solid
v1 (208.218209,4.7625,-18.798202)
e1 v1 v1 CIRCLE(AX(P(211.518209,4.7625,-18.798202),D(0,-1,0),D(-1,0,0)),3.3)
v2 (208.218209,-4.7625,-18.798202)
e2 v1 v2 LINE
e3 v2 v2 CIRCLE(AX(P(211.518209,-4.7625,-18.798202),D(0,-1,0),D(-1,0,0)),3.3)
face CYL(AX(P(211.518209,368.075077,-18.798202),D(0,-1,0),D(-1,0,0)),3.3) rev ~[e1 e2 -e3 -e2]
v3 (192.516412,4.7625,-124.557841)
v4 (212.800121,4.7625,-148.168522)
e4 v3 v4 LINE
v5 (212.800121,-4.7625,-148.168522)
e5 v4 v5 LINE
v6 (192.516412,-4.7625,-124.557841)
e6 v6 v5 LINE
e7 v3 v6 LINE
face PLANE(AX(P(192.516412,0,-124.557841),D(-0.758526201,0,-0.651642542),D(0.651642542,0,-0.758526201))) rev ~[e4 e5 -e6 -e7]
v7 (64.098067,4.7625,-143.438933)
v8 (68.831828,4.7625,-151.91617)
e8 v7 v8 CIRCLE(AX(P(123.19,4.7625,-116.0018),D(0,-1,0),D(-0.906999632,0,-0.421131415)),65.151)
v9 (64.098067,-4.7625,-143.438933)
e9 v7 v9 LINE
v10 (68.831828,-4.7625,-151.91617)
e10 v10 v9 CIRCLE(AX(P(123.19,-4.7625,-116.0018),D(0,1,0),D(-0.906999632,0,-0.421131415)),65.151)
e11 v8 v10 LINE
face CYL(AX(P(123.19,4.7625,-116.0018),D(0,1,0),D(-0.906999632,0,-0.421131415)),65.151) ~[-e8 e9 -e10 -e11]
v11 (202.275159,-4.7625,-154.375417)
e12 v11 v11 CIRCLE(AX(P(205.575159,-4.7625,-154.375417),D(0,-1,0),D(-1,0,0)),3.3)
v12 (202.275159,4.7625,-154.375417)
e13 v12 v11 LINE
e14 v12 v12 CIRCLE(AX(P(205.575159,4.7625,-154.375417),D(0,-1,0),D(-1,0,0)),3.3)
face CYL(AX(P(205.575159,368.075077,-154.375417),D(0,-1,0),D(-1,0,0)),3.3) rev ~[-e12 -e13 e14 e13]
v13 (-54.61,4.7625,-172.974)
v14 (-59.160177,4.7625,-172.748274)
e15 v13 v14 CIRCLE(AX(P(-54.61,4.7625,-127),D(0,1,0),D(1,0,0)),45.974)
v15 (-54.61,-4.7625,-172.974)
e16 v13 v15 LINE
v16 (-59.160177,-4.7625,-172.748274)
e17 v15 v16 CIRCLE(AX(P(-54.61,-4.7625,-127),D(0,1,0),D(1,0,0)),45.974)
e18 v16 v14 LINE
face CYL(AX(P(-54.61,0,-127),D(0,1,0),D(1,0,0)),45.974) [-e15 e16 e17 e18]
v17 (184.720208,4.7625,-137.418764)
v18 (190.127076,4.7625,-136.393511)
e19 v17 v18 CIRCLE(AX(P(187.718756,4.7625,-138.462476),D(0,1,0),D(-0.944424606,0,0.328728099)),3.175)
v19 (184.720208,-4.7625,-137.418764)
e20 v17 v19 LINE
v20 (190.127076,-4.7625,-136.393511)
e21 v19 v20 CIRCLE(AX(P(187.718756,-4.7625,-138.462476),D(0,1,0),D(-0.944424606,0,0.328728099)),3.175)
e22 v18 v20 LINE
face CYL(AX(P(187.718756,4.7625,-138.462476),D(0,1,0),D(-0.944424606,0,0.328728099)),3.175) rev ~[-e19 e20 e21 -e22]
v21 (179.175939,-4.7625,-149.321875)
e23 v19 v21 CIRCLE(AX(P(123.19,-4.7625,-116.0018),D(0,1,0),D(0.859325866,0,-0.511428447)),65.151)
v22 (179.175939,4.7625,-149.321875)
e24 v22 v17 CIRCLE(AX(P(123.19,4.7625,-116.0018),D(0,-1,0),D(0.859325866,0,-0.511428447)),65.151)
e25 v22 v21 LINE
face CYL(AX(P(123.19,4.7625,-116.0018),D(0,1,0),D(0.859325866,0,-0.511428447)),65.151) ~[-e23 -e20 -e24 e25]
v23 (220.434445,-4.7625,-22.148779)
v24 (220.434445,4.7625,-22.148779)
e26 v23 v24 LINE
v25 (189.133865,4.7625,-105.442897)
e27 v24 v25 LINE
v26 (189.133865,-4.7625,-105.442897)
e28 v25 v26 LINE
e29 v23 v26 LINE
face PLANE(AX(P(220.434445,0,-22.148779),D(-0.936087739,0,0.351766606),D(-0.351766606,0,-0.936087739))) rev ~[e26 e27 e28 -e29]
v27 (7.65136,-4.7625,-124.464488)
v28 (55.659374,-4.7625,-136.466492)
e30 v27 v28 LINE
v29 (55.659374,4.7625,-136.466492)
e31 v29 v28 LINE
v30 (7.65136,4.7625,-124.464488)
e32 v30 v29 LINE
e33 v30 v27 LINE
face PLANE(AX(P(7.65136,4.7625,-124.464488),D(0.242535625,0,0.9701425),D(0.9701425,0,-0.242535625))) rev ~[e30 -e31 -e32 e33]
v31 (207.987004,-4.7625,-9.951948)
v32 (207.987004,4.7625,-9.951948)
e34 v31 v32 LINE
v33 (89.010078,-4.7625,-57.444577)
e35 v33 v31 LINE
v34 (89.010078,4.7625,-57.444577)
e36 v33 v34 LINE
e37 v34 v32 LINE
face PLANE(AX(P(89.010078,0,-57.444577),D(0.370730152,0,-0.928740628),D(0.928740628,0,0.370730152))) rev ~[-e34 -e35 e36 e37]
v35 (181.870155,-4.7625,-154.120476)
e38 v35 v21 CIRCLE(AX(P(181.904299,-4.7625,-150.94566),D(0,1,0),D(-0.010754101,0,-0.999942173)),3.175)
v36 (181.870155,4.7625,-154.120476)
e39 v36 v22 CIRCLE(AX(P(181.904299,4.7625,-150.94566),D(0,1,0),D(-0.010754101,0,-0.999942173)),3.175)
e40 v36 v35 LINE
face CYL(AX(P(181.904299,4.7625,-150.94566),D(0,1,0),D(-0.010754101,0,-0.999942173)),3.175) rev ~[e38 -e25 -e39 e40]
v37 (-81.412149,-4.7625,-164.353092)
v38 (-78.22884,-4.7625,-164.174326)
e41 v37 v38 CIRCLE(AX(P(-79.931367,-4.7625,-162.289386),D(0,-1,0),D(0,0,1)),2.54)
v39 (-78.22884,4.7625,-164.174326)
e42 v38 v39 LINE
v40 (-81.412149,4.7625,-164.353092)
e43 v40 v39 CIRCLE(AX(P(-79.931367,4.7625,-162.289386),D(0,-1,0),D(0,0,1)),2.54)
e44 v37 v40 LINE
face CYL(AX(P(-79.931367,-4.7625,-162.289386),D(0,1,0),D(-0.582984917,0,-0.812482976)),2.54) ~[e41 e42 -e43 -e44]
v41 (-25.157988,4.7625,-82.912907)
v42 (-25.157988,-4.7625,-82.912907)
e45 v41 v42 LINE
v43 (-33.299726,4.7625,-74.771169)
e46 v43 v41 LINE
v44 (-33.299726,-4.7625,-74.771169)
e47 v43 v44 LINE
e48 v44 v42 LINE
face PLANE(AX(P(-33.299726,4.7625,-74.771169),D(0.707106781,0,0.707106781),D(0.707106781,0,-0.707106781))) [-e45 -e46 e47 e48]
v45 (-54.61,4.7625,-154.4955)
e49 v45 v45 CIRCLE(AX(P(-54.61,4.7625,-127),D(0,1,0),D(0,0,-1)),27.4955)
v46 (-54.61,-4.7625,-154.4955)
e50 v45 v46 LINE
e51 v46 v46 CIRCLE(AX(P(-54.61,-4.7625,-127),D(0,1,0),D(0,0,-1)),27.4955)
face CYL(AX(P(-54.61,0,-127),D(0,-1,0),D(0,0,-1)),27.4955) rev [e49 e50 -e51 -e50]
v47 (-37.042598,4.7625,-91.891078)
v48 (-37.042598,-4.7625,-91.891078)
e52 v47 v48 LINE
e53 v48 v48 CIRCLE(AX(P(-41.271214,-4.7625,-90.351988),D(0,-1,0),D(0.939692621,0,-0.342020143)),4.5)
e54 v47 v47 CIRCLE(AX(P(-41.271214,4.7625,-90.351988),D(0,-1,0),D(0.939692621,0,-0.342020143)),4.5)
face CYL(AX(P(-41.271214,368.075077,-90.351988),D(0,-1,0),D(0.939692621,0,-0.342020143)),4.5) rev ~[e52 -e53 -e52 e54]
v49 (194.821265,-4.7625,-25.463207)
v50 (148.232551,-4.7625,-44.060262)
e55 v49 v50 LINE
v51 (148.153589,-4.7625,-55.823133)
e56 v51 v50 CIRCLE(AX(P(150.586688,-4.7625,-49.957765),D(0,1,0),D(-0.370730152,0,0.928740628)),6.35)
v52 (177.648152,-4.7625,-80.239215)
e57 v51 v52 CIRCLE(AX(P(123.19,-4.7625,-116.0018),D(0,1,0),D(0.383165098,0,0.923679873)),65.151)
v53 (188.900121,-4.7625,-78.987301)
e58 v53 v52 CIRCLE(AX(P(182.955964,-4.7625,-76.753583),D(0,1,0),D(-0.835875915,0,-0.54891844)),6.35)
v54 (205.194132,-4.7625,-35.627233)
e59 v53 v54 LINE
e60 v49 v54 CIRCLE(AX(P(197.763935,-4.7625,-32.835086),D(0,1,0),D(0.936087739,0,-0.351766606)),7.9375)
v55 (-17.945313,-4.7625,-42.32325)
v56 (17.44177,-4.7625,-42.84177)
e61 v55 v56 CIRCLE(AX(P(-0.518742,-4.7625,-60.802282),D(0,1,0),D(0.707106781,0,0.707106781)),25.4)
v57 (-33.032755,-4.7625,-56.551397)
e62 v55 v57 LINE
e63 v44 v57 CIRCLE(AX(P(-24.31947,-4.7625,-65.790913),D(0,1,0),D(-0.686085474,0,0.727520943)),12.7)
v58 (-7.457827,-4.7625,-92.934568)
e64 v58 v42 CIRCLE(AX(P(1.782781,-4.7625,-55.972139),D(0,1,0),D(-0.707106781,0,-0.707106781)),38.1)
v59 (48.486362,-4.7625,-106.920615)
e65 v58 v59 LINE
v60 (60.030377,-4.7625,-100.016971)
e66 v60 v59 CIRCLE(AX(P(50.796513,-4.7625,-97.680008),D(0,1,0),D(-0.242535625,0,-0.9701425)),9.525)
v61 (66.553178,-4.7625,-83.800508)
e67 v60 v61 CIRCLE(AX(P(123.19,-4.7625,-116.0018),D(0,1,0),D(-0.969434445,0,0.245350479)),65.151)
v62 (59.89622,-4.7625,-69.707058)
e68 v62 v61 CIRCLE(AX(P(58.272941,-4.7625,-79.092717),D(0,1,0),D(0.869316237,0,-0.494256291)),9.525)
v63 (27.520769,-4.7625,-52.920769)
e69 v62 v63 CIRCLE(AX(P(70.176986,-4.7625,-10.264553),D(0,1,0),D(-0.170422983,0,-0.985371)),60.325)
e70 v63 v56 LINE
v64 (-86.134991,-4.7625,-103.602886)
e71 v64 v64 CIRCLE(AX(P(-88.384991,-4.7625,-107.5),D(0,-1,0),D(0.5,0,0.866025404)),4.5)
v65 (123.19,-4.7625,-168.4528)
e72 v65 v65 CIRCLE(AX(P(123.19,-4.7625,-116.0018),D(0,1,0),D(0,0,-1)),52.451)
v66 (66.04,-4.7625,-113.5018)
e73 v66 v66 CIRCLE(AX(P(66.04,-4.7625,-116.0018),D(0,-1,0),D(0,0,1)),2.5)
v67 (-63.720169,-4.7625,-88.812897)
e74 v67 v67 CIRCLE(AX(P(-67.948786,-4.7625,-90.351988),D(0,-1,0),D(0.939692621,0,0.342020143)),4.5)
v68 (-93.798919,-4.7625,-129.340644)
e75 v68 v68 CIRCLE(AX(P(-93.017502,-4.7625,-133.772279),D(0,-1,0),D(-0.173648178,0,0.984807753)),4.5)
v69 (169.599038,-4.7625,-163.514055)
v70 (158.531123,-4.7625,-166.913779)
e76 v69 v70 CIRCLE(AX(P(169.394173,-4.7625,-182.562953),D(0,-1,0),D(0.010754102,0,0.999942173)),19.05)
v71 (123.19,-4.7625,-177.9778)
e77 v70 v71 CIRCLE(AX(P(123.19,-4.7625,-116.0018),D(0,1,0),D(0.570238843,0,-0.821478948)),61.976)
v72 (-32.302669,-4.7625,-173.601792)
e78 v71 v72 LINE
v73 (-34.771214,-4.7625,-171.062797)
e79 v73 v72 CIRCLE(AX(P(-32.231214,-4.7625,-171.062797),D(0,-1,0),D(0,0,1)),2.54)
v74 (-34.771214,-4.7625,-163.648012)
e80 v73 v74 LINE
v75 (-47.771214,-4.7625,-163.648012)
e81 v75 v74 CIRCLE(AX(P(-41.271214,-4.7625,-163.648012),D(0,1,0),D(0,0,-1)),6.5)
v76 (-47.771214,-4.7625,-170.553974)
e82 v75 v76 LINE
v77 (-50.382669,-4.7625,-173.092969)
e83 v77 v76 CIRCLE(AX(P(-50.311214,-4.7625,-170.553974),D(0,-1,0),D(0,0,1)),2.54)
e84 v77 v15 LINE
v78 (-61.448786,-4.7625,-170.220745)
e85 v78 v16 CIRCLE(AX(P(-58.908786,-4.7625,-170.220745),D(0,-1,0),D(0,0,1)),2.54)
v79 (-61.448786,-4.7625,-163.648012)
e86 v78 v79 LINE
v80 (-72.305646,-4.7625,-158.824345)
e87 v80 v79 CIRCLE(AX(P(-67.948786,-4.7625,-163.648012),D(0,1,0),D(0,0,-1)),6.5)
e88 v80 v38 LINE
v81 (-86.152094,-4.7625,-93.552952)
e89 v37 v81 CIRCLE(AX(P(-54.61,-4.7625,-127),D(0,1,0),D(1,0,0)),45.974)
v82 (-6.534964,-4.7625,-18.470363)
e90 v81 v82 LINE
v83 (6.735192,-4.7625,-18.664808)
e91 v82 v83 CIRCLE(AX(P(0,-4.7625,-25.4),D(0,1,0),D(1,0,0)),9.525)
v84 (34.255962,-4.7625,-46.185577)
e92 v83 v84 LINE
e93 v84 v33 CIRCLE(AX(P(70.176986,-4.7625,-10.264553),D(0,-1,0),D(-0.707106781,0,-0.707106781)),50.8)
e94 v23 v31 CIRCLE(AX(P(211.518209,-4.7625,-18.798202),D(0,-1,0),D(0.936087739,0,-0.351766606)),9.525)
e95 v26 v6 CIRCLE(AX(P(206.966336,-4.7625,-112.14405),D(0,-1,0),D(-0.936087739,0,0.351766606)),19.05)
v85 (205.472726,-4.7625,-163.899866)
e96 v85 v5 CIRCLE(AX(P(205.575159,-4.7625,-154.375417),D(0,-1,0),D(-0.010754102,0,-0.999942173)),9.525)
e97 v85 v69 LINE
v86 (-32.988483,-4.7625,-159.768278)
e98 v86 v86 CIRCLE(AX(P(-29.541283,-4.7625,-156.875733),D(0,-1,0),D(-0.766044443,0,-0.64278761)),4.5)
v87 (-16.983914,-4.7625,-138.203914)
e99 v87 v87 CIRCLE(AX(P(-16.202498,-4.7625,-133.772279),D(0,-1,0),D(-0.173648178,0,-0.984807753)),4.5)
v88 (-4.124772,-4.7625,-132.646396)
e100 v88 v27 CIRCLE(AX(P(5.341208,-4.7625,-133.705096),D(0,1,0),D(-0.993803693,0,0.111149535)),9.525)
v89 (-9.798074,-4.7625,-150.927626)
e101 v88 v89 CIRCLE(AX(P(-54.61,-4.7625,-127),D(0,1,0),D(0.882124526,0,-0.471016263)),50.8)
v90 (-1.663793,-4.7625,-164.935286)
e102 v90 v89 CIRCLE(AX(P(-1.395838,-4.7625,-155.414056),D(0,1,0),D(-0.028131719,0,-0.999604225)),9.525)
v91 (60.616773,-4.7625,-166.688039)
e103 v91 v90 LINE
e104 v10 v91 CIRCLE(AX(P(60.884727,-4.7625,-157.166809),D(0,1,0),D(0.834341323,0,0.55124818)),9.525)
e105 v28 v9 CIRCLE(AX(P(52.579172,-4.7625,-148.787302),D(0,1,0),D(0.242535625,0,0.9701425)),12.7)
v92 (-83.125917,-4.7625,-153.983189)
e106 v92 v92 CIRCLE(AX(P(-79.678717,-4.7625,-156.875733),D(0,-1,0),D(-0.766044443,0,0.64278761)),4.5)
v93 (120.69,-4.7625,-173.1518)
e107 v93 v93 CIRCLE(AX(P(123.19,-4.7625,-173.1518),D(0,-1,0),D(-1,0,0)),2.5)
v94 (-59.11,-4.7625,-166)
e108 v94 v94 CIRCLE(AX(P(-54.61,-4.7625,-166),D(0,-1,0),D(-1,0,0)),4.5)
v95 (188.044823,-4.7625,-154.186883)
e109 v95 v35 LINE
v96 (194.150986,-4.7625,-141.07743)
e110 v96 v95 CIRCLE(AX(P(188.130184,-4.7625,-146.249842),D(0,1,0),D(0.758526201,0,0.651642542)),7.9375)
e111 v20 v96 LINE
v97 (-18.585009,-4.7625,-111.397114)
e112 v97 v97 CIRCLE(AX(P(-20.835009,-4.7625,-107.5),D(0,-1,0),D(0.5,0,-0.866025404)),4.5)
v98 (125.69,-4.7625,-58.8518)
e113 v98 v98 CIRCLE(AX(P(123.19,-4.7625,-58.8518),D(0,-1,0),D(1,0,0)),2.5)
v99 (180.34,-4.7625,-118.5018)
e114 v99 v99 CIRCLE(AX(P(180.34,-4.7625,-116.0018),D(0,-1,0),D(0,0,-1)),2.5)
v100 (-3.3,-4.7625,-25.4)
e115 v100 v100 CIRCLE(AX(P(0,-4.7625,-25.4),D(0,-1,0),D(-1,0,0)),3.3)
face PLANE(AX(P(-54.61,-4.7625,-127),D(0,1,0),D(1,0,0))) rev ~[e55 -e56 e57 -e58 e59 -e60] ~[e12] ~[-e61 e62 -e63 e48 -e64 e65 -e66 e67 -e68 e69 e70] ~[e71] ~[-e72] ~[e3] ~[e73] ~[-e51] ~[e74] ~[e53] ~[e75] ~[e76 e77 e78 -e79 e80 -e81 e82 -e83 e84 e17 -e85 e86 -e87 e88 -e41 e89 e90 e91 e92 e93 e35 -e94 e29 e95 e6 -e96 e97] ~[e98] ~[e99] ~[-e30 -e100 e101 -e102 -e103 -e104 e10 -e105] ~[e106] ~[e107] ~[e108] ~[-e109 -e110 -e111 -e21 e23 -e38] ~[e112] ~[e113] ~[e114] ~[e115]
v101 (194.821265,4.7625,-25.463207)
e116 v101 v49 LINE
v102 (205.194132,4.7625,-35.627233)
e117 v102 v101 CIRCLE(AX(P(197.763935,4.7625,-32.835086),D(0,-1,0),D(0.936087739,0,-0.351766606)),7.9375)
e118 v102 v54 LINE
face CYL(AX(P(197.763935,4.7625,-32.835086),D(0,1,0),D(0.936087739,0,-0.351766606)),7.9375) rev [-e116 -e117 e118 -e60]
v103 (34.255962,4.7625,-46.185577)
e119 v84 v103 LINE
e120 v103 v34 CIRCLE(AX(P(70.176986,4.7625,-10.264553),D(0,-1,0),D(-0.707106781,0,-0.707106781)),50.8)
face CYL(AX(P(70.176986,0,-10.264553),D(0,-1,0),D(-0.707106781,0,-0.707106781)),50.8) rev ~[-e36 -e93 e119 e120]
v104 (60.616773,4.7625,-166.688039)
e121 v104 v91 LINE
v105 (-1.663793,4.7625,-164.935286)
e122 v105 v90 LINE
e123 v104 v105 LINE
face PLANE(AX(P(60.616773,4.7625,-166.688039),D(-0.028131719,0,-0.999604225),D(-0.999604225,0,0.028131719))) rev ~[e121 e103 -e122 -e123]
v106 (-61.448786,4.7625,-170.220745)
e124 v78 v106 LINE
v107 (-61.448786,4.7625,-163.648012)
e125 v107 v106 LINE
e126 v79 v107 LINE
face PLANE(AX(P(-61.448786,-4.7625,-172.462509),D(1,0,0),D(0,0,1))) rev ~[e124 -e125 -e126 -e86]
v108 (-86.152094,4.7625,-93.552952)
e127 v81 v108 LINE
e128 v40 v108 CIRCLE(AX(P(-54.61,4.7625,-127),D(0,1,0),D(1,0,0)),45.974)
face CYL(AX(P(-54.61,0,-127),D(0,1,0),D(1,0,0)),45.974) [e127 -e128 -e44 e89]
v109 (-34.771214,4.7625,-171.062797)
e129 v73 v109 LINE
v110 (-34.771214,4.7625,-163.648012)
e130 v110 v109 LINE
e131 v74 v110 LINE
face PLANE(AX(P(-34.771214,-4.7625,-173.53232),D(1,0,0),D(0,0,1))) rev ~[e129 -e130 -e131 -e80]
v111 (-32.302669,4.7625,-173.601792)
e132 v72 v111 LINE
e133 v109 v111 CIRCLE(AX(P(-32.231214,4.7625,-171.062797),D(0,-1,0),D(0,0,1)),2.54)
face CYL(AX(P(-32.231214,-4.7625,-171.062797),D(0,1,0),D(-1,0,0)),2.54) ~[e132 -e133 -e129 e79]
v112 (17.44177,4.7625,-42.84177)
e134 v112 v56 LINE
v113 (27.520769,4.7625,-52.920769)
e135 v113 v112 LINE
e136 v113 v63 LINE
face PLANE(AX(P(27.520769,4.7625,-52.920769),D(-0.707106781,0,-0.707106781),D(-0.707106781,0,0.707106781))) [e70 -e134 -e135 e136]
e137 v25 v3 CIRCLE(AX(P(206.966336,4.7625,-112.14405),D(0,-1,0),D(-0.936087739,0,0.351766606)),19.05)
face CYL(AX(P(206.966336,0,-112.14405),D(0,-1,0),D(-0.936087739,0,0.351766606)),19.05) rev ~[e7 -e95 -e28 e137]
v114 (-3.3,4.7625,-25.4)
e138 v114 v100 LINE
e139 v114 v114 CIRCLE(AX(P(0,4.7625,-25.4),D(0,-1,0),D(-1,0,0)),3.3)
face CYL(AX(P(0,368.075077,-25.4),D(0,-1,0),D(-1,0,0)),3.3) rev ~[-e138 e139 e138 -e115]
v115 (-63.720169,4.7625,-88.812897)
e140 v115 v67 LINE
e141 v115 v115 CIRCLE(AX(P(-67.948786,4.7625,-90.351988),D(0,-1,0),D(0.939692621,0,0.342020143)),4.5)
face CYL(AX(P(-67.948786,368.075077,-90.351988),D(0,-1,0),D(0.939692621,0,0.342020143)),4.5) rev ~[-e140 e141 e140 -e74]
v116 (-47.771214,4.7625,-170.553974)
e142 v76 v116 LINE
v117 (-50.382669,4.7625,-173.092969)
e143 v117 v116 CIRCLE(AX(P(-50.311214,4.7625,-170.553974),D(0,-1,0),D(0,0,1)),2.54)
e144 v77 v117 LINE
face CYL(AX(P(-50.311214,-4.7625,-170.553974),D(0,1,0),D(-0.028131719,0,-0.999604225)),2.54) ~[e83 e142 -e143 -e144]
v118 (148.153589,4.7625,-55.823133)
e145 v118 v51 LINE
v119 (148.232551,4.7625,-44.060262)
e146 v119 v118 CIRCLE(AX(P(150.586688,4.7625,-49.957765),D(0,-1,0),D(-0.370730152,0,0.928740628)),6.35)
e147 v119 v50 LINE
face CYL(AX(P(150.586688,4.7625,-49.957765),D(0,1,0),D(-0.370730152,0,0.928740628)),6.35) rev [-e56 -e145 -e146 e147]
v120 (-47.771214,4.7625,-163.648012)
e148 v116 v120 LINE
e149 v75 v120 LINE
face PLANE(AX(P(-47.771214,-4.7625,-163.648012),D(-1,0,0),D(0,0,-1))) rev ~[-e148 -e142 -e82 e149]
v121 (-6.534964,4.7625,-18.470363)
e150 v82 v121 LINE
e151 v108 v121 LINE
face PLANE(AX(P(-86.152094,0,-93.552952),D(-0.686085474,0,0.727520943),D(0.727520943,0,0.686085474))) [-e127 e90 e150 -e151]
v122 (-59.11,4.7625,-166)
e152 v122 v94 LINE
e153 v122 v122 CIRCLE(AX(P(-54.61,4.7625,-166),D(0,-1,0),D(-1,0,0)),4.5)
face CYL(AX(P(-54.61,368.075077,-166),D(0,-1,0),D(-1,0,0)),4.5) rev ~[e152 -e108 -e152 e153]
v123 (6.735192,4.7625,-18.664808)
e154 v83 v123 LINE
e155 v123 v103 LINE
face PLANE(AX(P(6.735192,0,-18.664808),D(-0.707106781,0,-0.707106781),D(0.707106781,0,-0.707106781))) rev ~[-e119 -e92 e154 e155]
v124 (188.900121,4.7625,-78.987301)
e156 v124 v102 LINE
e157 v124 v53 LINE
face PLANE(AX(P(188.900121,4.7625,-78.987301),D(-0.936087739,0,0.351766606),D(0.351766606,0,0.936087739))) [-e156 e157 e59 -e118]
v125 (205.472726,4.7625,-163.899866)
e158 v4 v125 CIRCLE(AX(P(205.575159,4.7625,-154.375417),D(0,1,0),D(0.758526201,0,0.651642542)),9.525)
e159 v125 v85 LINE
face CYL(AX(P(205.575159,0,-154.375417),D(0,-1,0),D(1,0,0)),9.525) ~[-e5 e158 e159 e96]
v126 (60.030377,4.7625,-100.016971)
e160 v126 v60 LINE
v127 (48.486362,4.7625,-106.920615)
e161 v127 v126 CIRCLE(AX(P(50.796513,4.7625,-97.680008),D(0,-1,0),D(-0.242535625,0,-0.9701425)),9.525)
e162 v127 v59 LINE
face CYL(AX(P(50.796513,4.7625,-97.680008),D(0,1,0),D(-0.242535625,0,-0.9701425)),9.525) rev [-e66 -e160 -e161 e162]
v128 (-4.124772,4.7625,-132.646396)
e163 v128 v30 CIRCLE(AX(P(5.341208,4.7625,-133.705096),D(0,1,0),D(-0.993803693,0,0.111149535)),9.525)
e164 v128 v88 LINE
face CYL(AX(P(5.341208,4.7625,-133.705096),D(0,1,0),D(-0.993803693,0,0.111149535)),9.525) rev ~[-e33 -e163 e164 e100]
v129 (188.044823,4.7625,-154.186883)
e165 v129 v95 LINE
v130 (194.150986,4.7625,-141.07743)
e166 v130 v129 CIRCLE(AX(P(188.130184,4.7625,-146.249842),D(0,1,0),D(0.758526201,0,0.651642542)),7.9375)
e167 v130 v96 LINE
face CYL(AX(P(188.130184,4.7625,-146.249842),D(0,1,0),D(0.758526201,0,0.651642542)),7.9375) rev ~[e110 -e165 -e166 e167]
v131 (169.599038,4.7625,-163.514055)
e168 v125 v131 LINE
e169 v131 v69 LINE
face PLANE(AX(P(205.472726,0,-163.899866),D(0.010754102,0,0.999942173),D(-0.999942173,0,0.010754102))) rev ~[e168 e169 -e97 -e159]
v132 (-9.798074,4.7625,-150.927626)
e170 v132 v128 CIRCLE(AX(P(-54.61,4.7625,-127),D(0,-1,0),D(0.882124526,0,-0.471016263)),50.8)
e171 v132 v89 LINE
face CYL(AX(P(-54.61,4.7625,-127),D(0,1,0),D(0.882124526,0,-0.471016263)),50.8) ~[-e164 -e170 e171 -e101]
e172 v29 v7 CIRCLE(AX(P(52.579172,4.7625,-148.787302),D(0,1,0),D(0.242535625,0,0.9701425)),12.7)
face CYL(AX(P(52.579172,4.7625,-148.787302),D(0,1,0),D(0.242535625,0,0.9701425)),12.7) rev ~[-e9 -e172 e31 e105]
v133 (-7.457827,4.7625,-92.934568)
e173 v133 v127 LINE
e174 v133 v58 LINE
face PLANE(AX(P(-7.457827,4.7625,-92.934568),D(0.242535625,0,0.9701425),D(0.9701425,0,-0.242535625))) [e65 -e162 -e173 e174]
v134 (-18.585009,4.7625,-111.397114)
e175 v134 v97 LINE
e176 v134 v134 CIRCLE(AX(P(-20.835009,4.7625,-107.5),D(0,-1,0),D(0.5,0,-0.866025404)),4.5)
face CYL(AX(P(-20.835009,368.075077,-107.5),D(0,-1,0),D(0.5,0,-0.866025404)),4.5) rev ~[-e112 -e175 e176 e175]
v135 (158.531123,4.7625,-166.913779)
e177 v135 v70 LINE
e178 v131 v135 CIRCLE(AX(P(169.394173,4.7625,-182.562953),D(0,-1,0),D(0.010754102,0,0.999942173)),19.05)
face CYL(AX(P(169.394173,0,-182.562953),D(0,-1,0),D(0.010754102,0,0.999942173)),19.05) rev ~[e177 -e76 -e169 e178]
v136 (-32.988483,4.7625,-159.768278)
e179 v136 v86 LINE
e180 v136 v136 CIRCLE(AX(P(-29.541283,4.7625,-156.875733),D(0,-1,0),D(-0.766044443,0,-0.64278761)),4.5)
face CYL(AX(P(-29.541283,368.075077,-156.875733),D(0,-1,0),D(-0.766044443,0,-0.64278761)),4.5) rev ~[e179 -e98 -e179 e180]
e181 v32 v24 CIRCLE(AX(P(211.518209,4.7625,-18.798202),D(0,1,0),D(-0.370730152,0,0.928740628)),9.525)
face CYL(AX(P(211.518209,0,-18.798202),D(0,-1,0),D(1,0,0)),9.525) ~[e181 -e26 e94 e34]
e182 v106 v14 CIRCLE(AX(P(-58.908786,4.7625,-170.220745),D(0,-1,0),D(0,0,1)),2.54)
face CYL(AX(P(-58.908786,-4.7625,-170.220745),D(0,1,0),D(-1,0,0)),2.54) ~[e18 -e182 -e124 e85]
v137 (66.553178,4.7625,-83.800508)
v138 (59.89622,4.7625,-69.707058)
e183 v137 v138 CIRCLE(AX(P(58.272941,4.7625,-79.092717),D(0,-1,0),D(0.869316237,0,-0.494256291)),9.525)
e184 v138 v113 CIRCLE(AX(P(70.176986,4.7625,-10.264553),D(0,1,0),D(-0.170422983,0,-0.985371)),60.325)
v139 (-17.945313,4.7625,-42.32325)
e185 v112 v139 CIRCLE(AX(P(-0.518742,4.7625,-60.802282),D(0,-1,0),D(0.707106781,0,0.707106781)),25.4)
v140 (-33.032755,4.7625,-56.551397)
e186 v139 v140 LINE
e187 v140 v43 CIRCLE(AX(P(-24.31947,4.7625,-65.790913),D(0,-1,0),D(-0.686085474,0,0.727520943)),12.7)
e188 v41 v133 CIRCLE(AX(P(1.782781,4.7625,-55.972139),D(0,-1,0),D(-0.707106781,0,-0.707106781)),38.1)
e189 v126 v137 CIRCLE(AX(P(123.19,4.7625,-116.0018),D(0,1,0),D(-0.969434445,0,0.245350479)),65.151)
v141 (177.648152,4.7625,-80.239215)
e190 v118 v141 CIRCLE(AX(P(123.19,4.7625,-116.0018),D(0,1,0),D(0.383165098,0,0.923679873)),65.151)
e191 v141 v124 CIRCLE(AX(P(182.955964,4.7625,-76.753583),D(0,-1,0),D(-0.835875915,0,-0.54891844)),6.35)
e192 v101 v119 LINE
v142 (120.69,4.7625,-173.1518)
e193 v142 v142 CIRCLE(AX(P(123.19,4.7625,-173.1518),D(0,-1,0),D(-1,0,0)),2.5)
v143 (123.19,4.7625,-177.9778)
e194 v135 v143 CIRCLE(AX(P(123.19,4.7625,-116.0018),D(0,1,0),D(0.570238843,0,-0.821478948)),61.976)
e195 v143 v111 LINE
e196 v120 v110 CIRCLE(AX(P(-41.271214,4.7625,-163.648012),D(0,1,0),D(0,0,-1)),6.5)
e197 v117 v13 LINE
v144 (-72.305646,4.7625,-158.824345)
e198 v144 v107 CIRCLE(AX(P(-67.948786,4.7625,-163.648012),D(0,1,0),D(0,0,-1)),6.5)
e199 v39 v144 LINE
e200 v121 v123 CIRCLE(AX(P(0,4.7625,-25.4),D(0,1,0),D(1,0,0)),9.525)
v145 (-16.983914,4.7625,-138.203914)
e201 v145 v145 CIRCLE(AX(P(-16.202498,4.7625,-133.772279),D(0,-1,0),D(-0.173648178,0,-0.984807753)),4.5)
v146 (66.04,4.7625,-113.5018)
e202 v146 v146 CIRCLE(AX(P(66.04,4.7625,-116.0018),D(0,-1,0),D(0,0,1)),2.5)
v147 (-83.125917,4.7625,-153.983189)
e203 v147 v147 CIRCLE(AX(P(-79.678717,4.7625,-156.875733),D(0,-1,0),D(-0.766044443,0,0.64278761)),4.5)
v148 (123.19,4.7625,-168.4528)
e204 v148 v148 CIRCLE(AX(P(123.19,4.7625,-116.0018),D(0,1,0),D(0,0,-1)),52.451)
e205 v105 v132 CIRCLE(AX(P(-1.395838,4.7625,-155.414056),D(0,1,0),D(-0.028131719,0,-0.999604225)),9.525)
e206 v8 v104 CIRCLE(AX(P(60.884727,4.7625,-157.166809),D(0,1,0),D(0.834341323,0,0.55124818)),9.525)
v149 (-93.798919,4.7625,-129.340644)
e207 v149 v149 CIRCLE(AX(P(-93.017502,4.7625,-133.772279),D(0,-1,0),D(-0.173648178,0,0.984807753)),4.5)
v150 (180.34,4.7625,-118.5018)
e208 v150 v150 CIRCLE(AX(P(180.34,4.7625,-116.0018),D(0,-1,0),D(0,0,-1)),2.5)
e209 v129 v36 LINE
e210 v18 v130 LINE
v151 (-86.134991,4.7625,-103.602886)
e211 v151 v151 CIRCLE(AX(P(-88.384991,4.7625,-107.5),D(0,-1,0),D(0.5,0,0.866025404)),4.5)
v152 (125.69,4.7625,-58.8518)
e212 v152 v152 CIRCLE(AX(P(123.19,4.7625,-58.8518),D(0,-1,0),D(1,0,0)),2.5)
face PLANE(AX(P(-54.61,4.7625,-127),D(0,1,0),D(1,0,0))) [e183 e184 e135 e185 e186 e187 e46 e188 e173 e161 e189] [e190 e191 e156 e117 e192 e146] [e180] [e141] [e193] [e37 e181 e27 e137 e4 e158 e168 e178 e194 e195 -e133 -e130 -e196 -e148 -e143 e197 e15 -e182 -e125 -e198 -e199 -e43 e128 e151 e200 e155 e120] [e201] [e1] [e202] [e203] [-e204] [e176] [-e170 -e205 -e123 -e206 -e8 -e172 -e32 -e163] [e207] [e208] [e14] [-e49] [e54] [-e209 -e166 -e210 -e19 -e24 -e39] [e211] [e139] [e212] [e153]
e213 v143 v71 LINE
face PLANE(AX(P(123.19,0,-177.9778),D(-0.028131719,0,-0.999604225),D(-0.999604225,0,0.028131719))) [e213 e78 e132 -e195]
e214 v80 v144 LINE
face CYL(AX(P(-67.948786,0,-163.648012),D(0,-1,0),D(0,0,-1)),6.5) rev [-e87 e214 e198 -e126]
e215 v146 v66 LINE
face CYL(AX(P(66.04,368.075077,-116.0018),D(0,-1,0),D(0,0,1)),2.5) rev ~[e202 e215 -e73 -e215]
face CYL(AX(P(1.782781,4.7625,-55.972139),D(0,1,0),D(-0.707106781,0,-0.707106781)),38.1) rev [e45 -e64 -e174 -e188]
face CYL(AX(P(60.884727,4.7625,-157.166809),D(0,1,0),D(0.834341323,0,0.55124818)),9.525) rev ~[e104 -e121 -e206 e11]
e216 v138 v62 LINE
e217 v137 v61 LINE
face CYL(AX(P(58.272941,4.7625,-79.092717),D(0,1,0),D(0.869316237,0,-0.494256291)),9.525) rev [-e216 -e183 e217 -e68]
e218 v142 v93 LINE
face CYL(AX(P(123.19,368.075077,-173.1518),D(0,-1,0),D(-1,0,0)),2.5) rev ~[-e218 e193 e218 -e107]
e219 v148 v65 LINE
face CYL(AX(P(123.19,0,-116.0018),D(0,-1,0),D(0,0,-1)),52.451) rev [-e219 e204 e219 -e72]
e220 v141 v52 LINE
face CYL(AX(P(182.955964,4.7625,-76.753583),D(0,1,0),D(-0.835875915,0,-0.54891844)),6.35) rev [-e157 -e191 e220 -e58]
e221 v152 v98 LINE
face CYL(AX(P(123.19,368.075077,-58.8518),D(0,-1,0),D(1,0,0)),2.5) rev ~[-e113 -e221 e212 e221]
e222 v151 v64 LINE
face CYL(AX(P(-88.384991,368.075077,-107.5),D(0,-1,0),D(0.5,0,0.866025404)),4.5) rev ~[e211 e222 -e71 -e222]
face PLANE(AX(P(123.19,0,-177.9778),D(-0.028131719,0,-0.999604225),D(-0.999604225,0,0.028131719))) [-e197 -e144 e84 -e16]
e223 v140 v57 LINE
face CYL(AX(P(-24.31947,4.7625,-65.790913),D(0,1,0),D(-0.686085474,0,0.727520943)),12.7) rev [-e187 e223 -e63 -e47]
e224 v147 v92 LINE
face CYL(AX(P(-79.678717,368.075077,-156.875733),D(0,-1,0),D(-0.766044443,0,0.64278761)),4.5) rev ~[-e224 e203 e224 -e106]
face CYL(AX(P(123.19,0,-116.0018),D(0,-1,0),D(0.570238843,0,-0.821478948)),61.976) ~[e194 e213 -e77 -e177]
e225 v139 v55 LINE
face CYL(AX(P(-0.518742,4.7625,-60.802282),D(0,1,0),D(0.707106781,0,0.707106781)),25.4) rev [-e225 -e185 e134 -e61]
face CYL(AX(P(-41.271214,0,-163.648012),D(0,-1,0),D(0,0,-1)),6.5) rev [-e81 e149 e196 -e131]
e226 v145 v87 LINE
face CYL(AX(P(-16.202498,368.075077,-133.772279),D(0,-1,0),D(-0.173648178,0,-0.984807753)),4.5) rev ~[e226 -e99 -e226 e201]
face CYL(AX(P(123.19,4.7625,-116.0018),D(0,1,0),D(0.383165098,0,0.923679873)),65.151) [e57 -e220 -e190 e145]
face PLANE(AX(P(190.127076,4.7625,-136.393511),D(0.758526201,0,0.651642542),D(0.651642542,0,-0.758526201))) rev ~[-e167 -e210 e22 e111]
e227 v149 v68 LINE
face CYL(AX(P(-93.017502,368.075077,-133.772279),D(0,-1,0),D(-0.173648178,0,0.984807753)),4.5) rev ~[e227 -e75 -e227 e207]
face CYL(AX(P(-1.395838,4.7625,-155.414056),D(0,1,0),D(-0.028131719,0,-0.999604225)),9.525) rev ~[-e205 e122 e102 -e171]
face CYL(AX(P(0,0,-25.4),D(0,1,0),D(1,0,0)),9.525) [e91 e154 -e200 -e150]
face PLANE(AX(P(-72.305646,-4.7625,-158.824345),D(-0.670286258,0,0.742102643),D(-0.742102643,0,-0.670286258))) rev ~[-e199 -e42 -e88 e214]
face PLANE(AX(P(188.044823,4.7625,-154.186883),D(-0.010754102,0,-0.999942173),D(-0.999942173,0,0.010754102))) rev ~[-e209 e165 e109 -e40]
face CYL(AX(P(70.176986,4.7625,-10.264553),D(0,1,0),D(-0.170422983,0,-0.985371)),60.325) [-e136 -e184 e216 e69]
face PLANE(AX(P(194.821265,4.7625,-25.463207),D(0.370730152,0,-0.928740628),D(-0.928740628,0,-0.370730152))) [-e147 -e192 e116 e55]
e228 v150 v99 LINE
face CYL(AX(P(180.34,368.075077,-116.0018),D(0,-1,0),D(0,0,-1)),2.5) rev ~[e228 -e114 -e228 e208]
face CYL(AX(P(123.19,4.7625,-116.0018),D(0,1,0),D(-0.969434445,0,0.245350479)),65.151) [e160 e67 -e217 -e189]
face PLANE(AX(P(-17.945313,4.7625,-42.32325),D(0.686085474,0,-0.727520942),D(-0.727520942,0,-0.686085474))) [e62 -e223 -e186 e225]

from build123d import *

# Parameters (mm, degrees)
MASTER_SKETCH_R       = 52.451
MASTER_SKETCH_R_2     = 9.525
MASTER_SKETCH_R_3     = 45.974
MASTER_SKETCH_R_4     = 27.4955
MASTER_SKETCH_R_5     = 6.5
BOSS_EXTRUDE2_DEPTH   = 4.7625
F_5_0MM_DOWEL_HOLE1_D = 5
CIRPATTERN4_COUNT     = 4
M6_CLEARANCE_HOLE4_D  = 6.6
M8_CLEARANCE_HOLE1_D  = 9
CIRPATTERN3_COUNT     = 9
CUT_EXTRUDE2_DEPTH    = 284.948803699
CUT_EXTRUDE3_DEPTH    = 284.948803699
FILLET1_R             = 2.54


with BuildPart() as part:
    # Master Sketch → Boss-Extrude2 (new, symmetric)
    # profile 1 of 5: a face of its own
    with BuildSketch(Plane(origin=(0, 0, 0), x_dir=(1, 0, 0), z_dir=(0, 1, 0))):
        with BuildLine():
            ThreePointArc((-8.636, 127), (-36.396097826, 84.787887478), (-86.152093601, 93.552952189))
            Line((-86.152093601, 93.552952189), (-6.534964144, 18.470363023))
            ThreePointArc((-6.534964144, 18.470363023), (-3.773598517, 34.145603423), (9.525, 25.4))
            ThreePointArc((9.525, 25.4), (8.799952547, 21.754940307), (6.735192091, 18.664807909))
            Line((6.735192091, 18.664807909), (34.255961574, 46.185577392))
            ThreePointArc((34.255961574, 46.185577392), (59.945142207, 60.02346539), (89.010077776, 57.44457682))
            Line((89.010077776, 57.44457682), (207.987004211, 9.951947906))
            ThreePointArc((207.987004211, 9.951947906), (204.851852042, 25.601533276), (220.43444462, 22.148779315))
            Line((220.43444462, 22.148779315), (189.133864847, 105.44289655))
            ThreePointArc((189.133864847, 105.44289655), (188.207777178, 115.4635324), (192.51641215, 124.557840832))
            Line((192.51641215, 124.557840832), (212.800120602, 148.168522003))
            ThreePointArc((212.800120602, 148.168522003), (196.940842995, 150.353698677), (205.472725722, 163.899866417))
            Line((205.472725722, 163.899866417), (169.599038165, 163.514054819))
            ThreePointArc((169.599038165, 163.514054819), (163.800537316, 164.352688386), (158.531122559, 166.913779261))
            ThreePointArc((158.531122559, 166.913779261), (141.706259737, 175.147152322), (123.19, 177.9778))
            Line((123.19, 177.9778), (-54.61, 172.974))
            ThreePointArc((-54.61, 172.974), (-22.101472842, 159.508527158), (-8.636, 127))
        make_face()
        with Locations(Location((123.19, 116.0018, 0), (0, 0, 90))):
            Circle(MASTER_SKETCH_R, mode=Mode.SUBTRACT)
    # profile 2 of 5: a face of its own
    with BuildSketch(Plane(origin=(0, 0, 0), x_dir=(1, 0, 0), z_dir=(0, 1, 0))):
        with Locations((0, 25.4)):
            Circle(MASTER_SKETCH_R_2)
    # profile 3 of 5: a face of its own
    with BuildSketch(Plane(origin=(0, 0, 0), x_dir=(1, 0, 0), z_dir=(0, 1, 0))):
        with Locations((211.518208908, 18.79820239)):
            Circle(MASTER_SKETCH_R_2)
    # profile 4 of 5: a face of its own
    with BuildSketch(Plane(origin=(0, 0, 0), x_dir=(1, 0, 0), z_dir=(0, 1, 0))):
        with Locations((205.575158542, 154.375417219)):
            Circle(MASTER_SKETCH_R_2)
    # profile 5 of 5: a face of its own
    with BuildSketch(Plane(origin=(0, 0, 0), x_dir=(1, 0, 0), z_dir=(0, 1, 0))):
        with Locations((-54.61, 127)):
            Circle(MASTER_SKETCH_R_3)
        with Locations(Location((-54.61, 127, 0), (0, 0, 90))):
            Circle(MASTER_SKETCH_R_4, mode=Mode.SUBTRACT)
        with Locations(Location((-67.94878559, 163.648012211, 0), (0, 0, 90))):
            Circle(MASTER_SKETCH_R_5, mode=Mode.SUBTRACT)
        with Locations(Location((-41.27121441, 163.648012211, 0), (0, 0, 90))):
            Circle(MASTER_SKETCH_R_5, mode=Mode.SUBTRACT)
    extrude(amount=BOSS_EXTRUDE2_DEPTH, both=True)

    # Ø5.0mm Dowel Hole1 (through all)
    with Locations(Plane(origin=(0, 4.7625, 0), x_dir=(1, 0, 0), z_dir=(0, 1, 0))):
        with Locations((123.19, 173.1518)):
            f_5_0mm_dowel_hole1 = Hole(F_5_0MM_DOWEL_HOLE1_D / 2)

    # CirPattern4: Ø5.0mm Dowel Hole1 ×4 about axis
    cirpattern4_axis = Axis((123.19, 0, -116.0018), (0, 1, 0))
    for i in range(1, CIRPATTERN4_COUNT):
        add(f_5_0mm_dowel_hole1.rotate(cirpattern4_axis, i * 360 / CIRPATTERN4_COUNT), mode=Mode.SUBTRACT)

    # M6 Clearance Hole4 (through all)
    with Locations(Plane(origin=(0, 4.7625, 0), x_dir=(1, 0, 0), z_dir=(0, 1, 0))):
        with Locations((205.575158542, 154.375417219), (211.518208908, 18.79820239), (0, 25.4)):
            Hole(M6_CLEARANCE_HOLE4_D / 2)

    # M8 Clearance Hole1 (through all)
    with Locations(Plane(origin=(0, 4.7625, 0), x_dir=(1, 0, 0), z_dir=(0, 1, 0))):
        with Locations((-54.61, 166)):
            m8_clearance_hole1 = Hole(M8_CLEARANCE_HOLE1_D / 2)

    # CirPattern3: M8 Clearance Hole1 ×9 about axis
    cirpattern3_axis = Axis((-54.61, 0, -127), (0, 1, 0))
    for i in range(1, CIRPATTERN3_COUNT):
        add(m8_clearance_hole1.rotate(cirpattern3_axis, i * 360 / CIRPATTERN3_COUNT), mode=Mode.SUBTRACT)

    # Topology 3 → Cut-Extrude2 (cut, through all)
    with BuildSketch(Plane(origin=(0, 4.7625, 0), x_dir=(1, 0, 0), z_dir=(0, 1, 0))):
        with BuildLine():
            ThreePointArc((148.153589294, 55.823132596), (164.735029841, 65.81551406), (177.648151764, 80.239214699))
            ThreePointArc((177.648151764, 80.239214699), (183.658143307, 83.064639882), (188.900120968, 78.987300553))
            Line((188.900120968, 78.987300553), (205.194131764, 35.627233252))
            ThreePointArc((205.194131764, 35.627233252), (203.319232726, 27.16564341), (194.821264757, 25.463207079))
            Line((194.821264757, 25.463207079), (148.232551201, 44.060262413))
            ThreePointArc((148.232551201, 44.060262413), (144.236830733, 49.915140022), (148.153589294, 55.823132596))
        make_face()
        with BuildLine():
            Line((190.127076346, 136.393510988), (194.150985671, 141.077429629))
            ThreePointArc((194.150985671, 141.077429629), (195.32544691, 149.601274428), (188.044823271, 154.186883307))
            Line((188.044823271, 154.186883307), (181.870154841, 154.120476454))
            ThreePointArc((181.870154841, 154.120476454), (179.135815493, 152.500048502), (179.17593949, 149.321874737))
            ThreePointArc((179.17593949, 149.321874737), (182.248718341, 143.510354832), (184.720207534, 137.418764347))
            ThreePointArc((184.720207534, 137.418764347), (187.127250613, 135.343061567), (190.127076346, 136.393510988))
        make_face()
        with BuildLine():
            ThreePointArc((64.098067009, 143.438932802), (66.306808777, 147.765857633), (68.831828447, 151.916170194))
            ThreePointArc((68.831828447, 151.916170194), (69.209050275, 161.796201373), (60.61677272, 166.688039353))
            Line((60.61677272, 166.688039353), (-1.663792567, 164.935286301))
            ThreePointArc((-1.663792567, 164.935286301), (-9.632748017, 160.197249287), (-9.798074059, 150.927626155))
            ThreePointArc((-9.798074059, 150.927626155), (-6.09260405, 142.056636088), (-4.12477238, 132.646396384))
            ThreePointArc((-4.12477238, 132.646396384), (-0.093621954, 125.882803807), (7.651359628, 124.464488392))
            Line((7.651359628, 124.464488392), (55.659374127, 136.466492017))
            ThreePointArc((55.659374127, 136.466492017), (60.668494681, 138.996854714), (64.098067009, 143.438932802))
        make_face()
        with BuildLine():
            ThreePointArc((17.44176984, 42.84176984), (-0.146601343, 35.405008389), (-17.945313453, 42.323250142))
            Line((-17.945313453, 42.323250142), (-33.032755262, 56.551396808))
            ThreePointArc((-33.032755262, 56.551396808), (-37.018106584, 65.604842248), (-33.299725858, 74.771168898))
            Line((-33.299725858, 74.771168898), (-25.157987823, 82.912906934))
            ThreePointArc((-25.157987823, 82.912906934), (-16.98904431, 89.126755018), (-7.457826773, 92.934567826))
            Line((-7.457826773, 92.934567826), (48.48636159, 106.920614917))
            ThreePointArc((48.48636159, 106.920614917), (55.6852269, 105.854731176), (60.030376503, 100.016970919))
            ThreePointArc((60.030376503, 100.016970919), (62.745475764, 91.688999032), (66.553177874, 83.800508404))
            ThreePointArc((66.553177874, 83.800508404), (66.885503662, 75.024623751), (59.896219631, 69.707058463))
            ThreePointArc((59.896219631, 69.707058463), (42.409632623, 63.819008448), (27.520769483, 52.920769483))
            Line((27.520769483, 52.920769483), (17.44176984, 42.84176984))
        make_face()
    extrude(amount=-CUT_EXTRUDE2_DEPTH, mode=Mode.SUBTRACT)

    # Sketch29 → Cut-Extrude3 (cut, through all)
    with BuildSketch(Plane.XZ.offset(4.7625)):
        with BuildLine():
            Line((-72.305646266, -158.824345033), (-79.713448931, -165.515263569))
            ThreePointArc((-79.713448931, -165.515263569), (-70.954498766, -169.970525201), (-61.44878559, -172.462508594))
            Line((-61.44878559, -172.462508594), (-61.44878559, -163.648012211))
            ThreePointArc((-61.44878559, -163.648012211), (-70.587952655, -169.588112984), (-72.305646266, -158.824345033))
        make_face()
        with BuildLine():
            Line((-47.77121441, -163.648012211), (-47.77121441, -173.166462966))
            Line((-47.77121441, -173.166462966), (-34.77121441, -173.532320109))
            Line((-34.77121441, -173.532320109), (-34.77121441, -163.648012211))
            ThreePointArc((-34.77121441, -163.648012211), (-41.27121441, -170.148012211), (-47.77121441, -163.648012211))
        make_face()
    extrude(amount=-CUT_EXTRUDE3_DEPTH, mode=Mode.SUBTRACT)

    # Fillet1
    fillet1_edges = [part.edges().sort_by_distance(p)[0] for p in [
        (-79.713448931, 0, -165.515263569),
        (-61.44878559, 0, -172.462508594),
        (-47.77121441, 0, -173.166462966),
        (-34.77121441, 0, -173.532320109),
    ]]
    fillet(fillet1_edges, radius=FILLET1_R)


solid = part.part
